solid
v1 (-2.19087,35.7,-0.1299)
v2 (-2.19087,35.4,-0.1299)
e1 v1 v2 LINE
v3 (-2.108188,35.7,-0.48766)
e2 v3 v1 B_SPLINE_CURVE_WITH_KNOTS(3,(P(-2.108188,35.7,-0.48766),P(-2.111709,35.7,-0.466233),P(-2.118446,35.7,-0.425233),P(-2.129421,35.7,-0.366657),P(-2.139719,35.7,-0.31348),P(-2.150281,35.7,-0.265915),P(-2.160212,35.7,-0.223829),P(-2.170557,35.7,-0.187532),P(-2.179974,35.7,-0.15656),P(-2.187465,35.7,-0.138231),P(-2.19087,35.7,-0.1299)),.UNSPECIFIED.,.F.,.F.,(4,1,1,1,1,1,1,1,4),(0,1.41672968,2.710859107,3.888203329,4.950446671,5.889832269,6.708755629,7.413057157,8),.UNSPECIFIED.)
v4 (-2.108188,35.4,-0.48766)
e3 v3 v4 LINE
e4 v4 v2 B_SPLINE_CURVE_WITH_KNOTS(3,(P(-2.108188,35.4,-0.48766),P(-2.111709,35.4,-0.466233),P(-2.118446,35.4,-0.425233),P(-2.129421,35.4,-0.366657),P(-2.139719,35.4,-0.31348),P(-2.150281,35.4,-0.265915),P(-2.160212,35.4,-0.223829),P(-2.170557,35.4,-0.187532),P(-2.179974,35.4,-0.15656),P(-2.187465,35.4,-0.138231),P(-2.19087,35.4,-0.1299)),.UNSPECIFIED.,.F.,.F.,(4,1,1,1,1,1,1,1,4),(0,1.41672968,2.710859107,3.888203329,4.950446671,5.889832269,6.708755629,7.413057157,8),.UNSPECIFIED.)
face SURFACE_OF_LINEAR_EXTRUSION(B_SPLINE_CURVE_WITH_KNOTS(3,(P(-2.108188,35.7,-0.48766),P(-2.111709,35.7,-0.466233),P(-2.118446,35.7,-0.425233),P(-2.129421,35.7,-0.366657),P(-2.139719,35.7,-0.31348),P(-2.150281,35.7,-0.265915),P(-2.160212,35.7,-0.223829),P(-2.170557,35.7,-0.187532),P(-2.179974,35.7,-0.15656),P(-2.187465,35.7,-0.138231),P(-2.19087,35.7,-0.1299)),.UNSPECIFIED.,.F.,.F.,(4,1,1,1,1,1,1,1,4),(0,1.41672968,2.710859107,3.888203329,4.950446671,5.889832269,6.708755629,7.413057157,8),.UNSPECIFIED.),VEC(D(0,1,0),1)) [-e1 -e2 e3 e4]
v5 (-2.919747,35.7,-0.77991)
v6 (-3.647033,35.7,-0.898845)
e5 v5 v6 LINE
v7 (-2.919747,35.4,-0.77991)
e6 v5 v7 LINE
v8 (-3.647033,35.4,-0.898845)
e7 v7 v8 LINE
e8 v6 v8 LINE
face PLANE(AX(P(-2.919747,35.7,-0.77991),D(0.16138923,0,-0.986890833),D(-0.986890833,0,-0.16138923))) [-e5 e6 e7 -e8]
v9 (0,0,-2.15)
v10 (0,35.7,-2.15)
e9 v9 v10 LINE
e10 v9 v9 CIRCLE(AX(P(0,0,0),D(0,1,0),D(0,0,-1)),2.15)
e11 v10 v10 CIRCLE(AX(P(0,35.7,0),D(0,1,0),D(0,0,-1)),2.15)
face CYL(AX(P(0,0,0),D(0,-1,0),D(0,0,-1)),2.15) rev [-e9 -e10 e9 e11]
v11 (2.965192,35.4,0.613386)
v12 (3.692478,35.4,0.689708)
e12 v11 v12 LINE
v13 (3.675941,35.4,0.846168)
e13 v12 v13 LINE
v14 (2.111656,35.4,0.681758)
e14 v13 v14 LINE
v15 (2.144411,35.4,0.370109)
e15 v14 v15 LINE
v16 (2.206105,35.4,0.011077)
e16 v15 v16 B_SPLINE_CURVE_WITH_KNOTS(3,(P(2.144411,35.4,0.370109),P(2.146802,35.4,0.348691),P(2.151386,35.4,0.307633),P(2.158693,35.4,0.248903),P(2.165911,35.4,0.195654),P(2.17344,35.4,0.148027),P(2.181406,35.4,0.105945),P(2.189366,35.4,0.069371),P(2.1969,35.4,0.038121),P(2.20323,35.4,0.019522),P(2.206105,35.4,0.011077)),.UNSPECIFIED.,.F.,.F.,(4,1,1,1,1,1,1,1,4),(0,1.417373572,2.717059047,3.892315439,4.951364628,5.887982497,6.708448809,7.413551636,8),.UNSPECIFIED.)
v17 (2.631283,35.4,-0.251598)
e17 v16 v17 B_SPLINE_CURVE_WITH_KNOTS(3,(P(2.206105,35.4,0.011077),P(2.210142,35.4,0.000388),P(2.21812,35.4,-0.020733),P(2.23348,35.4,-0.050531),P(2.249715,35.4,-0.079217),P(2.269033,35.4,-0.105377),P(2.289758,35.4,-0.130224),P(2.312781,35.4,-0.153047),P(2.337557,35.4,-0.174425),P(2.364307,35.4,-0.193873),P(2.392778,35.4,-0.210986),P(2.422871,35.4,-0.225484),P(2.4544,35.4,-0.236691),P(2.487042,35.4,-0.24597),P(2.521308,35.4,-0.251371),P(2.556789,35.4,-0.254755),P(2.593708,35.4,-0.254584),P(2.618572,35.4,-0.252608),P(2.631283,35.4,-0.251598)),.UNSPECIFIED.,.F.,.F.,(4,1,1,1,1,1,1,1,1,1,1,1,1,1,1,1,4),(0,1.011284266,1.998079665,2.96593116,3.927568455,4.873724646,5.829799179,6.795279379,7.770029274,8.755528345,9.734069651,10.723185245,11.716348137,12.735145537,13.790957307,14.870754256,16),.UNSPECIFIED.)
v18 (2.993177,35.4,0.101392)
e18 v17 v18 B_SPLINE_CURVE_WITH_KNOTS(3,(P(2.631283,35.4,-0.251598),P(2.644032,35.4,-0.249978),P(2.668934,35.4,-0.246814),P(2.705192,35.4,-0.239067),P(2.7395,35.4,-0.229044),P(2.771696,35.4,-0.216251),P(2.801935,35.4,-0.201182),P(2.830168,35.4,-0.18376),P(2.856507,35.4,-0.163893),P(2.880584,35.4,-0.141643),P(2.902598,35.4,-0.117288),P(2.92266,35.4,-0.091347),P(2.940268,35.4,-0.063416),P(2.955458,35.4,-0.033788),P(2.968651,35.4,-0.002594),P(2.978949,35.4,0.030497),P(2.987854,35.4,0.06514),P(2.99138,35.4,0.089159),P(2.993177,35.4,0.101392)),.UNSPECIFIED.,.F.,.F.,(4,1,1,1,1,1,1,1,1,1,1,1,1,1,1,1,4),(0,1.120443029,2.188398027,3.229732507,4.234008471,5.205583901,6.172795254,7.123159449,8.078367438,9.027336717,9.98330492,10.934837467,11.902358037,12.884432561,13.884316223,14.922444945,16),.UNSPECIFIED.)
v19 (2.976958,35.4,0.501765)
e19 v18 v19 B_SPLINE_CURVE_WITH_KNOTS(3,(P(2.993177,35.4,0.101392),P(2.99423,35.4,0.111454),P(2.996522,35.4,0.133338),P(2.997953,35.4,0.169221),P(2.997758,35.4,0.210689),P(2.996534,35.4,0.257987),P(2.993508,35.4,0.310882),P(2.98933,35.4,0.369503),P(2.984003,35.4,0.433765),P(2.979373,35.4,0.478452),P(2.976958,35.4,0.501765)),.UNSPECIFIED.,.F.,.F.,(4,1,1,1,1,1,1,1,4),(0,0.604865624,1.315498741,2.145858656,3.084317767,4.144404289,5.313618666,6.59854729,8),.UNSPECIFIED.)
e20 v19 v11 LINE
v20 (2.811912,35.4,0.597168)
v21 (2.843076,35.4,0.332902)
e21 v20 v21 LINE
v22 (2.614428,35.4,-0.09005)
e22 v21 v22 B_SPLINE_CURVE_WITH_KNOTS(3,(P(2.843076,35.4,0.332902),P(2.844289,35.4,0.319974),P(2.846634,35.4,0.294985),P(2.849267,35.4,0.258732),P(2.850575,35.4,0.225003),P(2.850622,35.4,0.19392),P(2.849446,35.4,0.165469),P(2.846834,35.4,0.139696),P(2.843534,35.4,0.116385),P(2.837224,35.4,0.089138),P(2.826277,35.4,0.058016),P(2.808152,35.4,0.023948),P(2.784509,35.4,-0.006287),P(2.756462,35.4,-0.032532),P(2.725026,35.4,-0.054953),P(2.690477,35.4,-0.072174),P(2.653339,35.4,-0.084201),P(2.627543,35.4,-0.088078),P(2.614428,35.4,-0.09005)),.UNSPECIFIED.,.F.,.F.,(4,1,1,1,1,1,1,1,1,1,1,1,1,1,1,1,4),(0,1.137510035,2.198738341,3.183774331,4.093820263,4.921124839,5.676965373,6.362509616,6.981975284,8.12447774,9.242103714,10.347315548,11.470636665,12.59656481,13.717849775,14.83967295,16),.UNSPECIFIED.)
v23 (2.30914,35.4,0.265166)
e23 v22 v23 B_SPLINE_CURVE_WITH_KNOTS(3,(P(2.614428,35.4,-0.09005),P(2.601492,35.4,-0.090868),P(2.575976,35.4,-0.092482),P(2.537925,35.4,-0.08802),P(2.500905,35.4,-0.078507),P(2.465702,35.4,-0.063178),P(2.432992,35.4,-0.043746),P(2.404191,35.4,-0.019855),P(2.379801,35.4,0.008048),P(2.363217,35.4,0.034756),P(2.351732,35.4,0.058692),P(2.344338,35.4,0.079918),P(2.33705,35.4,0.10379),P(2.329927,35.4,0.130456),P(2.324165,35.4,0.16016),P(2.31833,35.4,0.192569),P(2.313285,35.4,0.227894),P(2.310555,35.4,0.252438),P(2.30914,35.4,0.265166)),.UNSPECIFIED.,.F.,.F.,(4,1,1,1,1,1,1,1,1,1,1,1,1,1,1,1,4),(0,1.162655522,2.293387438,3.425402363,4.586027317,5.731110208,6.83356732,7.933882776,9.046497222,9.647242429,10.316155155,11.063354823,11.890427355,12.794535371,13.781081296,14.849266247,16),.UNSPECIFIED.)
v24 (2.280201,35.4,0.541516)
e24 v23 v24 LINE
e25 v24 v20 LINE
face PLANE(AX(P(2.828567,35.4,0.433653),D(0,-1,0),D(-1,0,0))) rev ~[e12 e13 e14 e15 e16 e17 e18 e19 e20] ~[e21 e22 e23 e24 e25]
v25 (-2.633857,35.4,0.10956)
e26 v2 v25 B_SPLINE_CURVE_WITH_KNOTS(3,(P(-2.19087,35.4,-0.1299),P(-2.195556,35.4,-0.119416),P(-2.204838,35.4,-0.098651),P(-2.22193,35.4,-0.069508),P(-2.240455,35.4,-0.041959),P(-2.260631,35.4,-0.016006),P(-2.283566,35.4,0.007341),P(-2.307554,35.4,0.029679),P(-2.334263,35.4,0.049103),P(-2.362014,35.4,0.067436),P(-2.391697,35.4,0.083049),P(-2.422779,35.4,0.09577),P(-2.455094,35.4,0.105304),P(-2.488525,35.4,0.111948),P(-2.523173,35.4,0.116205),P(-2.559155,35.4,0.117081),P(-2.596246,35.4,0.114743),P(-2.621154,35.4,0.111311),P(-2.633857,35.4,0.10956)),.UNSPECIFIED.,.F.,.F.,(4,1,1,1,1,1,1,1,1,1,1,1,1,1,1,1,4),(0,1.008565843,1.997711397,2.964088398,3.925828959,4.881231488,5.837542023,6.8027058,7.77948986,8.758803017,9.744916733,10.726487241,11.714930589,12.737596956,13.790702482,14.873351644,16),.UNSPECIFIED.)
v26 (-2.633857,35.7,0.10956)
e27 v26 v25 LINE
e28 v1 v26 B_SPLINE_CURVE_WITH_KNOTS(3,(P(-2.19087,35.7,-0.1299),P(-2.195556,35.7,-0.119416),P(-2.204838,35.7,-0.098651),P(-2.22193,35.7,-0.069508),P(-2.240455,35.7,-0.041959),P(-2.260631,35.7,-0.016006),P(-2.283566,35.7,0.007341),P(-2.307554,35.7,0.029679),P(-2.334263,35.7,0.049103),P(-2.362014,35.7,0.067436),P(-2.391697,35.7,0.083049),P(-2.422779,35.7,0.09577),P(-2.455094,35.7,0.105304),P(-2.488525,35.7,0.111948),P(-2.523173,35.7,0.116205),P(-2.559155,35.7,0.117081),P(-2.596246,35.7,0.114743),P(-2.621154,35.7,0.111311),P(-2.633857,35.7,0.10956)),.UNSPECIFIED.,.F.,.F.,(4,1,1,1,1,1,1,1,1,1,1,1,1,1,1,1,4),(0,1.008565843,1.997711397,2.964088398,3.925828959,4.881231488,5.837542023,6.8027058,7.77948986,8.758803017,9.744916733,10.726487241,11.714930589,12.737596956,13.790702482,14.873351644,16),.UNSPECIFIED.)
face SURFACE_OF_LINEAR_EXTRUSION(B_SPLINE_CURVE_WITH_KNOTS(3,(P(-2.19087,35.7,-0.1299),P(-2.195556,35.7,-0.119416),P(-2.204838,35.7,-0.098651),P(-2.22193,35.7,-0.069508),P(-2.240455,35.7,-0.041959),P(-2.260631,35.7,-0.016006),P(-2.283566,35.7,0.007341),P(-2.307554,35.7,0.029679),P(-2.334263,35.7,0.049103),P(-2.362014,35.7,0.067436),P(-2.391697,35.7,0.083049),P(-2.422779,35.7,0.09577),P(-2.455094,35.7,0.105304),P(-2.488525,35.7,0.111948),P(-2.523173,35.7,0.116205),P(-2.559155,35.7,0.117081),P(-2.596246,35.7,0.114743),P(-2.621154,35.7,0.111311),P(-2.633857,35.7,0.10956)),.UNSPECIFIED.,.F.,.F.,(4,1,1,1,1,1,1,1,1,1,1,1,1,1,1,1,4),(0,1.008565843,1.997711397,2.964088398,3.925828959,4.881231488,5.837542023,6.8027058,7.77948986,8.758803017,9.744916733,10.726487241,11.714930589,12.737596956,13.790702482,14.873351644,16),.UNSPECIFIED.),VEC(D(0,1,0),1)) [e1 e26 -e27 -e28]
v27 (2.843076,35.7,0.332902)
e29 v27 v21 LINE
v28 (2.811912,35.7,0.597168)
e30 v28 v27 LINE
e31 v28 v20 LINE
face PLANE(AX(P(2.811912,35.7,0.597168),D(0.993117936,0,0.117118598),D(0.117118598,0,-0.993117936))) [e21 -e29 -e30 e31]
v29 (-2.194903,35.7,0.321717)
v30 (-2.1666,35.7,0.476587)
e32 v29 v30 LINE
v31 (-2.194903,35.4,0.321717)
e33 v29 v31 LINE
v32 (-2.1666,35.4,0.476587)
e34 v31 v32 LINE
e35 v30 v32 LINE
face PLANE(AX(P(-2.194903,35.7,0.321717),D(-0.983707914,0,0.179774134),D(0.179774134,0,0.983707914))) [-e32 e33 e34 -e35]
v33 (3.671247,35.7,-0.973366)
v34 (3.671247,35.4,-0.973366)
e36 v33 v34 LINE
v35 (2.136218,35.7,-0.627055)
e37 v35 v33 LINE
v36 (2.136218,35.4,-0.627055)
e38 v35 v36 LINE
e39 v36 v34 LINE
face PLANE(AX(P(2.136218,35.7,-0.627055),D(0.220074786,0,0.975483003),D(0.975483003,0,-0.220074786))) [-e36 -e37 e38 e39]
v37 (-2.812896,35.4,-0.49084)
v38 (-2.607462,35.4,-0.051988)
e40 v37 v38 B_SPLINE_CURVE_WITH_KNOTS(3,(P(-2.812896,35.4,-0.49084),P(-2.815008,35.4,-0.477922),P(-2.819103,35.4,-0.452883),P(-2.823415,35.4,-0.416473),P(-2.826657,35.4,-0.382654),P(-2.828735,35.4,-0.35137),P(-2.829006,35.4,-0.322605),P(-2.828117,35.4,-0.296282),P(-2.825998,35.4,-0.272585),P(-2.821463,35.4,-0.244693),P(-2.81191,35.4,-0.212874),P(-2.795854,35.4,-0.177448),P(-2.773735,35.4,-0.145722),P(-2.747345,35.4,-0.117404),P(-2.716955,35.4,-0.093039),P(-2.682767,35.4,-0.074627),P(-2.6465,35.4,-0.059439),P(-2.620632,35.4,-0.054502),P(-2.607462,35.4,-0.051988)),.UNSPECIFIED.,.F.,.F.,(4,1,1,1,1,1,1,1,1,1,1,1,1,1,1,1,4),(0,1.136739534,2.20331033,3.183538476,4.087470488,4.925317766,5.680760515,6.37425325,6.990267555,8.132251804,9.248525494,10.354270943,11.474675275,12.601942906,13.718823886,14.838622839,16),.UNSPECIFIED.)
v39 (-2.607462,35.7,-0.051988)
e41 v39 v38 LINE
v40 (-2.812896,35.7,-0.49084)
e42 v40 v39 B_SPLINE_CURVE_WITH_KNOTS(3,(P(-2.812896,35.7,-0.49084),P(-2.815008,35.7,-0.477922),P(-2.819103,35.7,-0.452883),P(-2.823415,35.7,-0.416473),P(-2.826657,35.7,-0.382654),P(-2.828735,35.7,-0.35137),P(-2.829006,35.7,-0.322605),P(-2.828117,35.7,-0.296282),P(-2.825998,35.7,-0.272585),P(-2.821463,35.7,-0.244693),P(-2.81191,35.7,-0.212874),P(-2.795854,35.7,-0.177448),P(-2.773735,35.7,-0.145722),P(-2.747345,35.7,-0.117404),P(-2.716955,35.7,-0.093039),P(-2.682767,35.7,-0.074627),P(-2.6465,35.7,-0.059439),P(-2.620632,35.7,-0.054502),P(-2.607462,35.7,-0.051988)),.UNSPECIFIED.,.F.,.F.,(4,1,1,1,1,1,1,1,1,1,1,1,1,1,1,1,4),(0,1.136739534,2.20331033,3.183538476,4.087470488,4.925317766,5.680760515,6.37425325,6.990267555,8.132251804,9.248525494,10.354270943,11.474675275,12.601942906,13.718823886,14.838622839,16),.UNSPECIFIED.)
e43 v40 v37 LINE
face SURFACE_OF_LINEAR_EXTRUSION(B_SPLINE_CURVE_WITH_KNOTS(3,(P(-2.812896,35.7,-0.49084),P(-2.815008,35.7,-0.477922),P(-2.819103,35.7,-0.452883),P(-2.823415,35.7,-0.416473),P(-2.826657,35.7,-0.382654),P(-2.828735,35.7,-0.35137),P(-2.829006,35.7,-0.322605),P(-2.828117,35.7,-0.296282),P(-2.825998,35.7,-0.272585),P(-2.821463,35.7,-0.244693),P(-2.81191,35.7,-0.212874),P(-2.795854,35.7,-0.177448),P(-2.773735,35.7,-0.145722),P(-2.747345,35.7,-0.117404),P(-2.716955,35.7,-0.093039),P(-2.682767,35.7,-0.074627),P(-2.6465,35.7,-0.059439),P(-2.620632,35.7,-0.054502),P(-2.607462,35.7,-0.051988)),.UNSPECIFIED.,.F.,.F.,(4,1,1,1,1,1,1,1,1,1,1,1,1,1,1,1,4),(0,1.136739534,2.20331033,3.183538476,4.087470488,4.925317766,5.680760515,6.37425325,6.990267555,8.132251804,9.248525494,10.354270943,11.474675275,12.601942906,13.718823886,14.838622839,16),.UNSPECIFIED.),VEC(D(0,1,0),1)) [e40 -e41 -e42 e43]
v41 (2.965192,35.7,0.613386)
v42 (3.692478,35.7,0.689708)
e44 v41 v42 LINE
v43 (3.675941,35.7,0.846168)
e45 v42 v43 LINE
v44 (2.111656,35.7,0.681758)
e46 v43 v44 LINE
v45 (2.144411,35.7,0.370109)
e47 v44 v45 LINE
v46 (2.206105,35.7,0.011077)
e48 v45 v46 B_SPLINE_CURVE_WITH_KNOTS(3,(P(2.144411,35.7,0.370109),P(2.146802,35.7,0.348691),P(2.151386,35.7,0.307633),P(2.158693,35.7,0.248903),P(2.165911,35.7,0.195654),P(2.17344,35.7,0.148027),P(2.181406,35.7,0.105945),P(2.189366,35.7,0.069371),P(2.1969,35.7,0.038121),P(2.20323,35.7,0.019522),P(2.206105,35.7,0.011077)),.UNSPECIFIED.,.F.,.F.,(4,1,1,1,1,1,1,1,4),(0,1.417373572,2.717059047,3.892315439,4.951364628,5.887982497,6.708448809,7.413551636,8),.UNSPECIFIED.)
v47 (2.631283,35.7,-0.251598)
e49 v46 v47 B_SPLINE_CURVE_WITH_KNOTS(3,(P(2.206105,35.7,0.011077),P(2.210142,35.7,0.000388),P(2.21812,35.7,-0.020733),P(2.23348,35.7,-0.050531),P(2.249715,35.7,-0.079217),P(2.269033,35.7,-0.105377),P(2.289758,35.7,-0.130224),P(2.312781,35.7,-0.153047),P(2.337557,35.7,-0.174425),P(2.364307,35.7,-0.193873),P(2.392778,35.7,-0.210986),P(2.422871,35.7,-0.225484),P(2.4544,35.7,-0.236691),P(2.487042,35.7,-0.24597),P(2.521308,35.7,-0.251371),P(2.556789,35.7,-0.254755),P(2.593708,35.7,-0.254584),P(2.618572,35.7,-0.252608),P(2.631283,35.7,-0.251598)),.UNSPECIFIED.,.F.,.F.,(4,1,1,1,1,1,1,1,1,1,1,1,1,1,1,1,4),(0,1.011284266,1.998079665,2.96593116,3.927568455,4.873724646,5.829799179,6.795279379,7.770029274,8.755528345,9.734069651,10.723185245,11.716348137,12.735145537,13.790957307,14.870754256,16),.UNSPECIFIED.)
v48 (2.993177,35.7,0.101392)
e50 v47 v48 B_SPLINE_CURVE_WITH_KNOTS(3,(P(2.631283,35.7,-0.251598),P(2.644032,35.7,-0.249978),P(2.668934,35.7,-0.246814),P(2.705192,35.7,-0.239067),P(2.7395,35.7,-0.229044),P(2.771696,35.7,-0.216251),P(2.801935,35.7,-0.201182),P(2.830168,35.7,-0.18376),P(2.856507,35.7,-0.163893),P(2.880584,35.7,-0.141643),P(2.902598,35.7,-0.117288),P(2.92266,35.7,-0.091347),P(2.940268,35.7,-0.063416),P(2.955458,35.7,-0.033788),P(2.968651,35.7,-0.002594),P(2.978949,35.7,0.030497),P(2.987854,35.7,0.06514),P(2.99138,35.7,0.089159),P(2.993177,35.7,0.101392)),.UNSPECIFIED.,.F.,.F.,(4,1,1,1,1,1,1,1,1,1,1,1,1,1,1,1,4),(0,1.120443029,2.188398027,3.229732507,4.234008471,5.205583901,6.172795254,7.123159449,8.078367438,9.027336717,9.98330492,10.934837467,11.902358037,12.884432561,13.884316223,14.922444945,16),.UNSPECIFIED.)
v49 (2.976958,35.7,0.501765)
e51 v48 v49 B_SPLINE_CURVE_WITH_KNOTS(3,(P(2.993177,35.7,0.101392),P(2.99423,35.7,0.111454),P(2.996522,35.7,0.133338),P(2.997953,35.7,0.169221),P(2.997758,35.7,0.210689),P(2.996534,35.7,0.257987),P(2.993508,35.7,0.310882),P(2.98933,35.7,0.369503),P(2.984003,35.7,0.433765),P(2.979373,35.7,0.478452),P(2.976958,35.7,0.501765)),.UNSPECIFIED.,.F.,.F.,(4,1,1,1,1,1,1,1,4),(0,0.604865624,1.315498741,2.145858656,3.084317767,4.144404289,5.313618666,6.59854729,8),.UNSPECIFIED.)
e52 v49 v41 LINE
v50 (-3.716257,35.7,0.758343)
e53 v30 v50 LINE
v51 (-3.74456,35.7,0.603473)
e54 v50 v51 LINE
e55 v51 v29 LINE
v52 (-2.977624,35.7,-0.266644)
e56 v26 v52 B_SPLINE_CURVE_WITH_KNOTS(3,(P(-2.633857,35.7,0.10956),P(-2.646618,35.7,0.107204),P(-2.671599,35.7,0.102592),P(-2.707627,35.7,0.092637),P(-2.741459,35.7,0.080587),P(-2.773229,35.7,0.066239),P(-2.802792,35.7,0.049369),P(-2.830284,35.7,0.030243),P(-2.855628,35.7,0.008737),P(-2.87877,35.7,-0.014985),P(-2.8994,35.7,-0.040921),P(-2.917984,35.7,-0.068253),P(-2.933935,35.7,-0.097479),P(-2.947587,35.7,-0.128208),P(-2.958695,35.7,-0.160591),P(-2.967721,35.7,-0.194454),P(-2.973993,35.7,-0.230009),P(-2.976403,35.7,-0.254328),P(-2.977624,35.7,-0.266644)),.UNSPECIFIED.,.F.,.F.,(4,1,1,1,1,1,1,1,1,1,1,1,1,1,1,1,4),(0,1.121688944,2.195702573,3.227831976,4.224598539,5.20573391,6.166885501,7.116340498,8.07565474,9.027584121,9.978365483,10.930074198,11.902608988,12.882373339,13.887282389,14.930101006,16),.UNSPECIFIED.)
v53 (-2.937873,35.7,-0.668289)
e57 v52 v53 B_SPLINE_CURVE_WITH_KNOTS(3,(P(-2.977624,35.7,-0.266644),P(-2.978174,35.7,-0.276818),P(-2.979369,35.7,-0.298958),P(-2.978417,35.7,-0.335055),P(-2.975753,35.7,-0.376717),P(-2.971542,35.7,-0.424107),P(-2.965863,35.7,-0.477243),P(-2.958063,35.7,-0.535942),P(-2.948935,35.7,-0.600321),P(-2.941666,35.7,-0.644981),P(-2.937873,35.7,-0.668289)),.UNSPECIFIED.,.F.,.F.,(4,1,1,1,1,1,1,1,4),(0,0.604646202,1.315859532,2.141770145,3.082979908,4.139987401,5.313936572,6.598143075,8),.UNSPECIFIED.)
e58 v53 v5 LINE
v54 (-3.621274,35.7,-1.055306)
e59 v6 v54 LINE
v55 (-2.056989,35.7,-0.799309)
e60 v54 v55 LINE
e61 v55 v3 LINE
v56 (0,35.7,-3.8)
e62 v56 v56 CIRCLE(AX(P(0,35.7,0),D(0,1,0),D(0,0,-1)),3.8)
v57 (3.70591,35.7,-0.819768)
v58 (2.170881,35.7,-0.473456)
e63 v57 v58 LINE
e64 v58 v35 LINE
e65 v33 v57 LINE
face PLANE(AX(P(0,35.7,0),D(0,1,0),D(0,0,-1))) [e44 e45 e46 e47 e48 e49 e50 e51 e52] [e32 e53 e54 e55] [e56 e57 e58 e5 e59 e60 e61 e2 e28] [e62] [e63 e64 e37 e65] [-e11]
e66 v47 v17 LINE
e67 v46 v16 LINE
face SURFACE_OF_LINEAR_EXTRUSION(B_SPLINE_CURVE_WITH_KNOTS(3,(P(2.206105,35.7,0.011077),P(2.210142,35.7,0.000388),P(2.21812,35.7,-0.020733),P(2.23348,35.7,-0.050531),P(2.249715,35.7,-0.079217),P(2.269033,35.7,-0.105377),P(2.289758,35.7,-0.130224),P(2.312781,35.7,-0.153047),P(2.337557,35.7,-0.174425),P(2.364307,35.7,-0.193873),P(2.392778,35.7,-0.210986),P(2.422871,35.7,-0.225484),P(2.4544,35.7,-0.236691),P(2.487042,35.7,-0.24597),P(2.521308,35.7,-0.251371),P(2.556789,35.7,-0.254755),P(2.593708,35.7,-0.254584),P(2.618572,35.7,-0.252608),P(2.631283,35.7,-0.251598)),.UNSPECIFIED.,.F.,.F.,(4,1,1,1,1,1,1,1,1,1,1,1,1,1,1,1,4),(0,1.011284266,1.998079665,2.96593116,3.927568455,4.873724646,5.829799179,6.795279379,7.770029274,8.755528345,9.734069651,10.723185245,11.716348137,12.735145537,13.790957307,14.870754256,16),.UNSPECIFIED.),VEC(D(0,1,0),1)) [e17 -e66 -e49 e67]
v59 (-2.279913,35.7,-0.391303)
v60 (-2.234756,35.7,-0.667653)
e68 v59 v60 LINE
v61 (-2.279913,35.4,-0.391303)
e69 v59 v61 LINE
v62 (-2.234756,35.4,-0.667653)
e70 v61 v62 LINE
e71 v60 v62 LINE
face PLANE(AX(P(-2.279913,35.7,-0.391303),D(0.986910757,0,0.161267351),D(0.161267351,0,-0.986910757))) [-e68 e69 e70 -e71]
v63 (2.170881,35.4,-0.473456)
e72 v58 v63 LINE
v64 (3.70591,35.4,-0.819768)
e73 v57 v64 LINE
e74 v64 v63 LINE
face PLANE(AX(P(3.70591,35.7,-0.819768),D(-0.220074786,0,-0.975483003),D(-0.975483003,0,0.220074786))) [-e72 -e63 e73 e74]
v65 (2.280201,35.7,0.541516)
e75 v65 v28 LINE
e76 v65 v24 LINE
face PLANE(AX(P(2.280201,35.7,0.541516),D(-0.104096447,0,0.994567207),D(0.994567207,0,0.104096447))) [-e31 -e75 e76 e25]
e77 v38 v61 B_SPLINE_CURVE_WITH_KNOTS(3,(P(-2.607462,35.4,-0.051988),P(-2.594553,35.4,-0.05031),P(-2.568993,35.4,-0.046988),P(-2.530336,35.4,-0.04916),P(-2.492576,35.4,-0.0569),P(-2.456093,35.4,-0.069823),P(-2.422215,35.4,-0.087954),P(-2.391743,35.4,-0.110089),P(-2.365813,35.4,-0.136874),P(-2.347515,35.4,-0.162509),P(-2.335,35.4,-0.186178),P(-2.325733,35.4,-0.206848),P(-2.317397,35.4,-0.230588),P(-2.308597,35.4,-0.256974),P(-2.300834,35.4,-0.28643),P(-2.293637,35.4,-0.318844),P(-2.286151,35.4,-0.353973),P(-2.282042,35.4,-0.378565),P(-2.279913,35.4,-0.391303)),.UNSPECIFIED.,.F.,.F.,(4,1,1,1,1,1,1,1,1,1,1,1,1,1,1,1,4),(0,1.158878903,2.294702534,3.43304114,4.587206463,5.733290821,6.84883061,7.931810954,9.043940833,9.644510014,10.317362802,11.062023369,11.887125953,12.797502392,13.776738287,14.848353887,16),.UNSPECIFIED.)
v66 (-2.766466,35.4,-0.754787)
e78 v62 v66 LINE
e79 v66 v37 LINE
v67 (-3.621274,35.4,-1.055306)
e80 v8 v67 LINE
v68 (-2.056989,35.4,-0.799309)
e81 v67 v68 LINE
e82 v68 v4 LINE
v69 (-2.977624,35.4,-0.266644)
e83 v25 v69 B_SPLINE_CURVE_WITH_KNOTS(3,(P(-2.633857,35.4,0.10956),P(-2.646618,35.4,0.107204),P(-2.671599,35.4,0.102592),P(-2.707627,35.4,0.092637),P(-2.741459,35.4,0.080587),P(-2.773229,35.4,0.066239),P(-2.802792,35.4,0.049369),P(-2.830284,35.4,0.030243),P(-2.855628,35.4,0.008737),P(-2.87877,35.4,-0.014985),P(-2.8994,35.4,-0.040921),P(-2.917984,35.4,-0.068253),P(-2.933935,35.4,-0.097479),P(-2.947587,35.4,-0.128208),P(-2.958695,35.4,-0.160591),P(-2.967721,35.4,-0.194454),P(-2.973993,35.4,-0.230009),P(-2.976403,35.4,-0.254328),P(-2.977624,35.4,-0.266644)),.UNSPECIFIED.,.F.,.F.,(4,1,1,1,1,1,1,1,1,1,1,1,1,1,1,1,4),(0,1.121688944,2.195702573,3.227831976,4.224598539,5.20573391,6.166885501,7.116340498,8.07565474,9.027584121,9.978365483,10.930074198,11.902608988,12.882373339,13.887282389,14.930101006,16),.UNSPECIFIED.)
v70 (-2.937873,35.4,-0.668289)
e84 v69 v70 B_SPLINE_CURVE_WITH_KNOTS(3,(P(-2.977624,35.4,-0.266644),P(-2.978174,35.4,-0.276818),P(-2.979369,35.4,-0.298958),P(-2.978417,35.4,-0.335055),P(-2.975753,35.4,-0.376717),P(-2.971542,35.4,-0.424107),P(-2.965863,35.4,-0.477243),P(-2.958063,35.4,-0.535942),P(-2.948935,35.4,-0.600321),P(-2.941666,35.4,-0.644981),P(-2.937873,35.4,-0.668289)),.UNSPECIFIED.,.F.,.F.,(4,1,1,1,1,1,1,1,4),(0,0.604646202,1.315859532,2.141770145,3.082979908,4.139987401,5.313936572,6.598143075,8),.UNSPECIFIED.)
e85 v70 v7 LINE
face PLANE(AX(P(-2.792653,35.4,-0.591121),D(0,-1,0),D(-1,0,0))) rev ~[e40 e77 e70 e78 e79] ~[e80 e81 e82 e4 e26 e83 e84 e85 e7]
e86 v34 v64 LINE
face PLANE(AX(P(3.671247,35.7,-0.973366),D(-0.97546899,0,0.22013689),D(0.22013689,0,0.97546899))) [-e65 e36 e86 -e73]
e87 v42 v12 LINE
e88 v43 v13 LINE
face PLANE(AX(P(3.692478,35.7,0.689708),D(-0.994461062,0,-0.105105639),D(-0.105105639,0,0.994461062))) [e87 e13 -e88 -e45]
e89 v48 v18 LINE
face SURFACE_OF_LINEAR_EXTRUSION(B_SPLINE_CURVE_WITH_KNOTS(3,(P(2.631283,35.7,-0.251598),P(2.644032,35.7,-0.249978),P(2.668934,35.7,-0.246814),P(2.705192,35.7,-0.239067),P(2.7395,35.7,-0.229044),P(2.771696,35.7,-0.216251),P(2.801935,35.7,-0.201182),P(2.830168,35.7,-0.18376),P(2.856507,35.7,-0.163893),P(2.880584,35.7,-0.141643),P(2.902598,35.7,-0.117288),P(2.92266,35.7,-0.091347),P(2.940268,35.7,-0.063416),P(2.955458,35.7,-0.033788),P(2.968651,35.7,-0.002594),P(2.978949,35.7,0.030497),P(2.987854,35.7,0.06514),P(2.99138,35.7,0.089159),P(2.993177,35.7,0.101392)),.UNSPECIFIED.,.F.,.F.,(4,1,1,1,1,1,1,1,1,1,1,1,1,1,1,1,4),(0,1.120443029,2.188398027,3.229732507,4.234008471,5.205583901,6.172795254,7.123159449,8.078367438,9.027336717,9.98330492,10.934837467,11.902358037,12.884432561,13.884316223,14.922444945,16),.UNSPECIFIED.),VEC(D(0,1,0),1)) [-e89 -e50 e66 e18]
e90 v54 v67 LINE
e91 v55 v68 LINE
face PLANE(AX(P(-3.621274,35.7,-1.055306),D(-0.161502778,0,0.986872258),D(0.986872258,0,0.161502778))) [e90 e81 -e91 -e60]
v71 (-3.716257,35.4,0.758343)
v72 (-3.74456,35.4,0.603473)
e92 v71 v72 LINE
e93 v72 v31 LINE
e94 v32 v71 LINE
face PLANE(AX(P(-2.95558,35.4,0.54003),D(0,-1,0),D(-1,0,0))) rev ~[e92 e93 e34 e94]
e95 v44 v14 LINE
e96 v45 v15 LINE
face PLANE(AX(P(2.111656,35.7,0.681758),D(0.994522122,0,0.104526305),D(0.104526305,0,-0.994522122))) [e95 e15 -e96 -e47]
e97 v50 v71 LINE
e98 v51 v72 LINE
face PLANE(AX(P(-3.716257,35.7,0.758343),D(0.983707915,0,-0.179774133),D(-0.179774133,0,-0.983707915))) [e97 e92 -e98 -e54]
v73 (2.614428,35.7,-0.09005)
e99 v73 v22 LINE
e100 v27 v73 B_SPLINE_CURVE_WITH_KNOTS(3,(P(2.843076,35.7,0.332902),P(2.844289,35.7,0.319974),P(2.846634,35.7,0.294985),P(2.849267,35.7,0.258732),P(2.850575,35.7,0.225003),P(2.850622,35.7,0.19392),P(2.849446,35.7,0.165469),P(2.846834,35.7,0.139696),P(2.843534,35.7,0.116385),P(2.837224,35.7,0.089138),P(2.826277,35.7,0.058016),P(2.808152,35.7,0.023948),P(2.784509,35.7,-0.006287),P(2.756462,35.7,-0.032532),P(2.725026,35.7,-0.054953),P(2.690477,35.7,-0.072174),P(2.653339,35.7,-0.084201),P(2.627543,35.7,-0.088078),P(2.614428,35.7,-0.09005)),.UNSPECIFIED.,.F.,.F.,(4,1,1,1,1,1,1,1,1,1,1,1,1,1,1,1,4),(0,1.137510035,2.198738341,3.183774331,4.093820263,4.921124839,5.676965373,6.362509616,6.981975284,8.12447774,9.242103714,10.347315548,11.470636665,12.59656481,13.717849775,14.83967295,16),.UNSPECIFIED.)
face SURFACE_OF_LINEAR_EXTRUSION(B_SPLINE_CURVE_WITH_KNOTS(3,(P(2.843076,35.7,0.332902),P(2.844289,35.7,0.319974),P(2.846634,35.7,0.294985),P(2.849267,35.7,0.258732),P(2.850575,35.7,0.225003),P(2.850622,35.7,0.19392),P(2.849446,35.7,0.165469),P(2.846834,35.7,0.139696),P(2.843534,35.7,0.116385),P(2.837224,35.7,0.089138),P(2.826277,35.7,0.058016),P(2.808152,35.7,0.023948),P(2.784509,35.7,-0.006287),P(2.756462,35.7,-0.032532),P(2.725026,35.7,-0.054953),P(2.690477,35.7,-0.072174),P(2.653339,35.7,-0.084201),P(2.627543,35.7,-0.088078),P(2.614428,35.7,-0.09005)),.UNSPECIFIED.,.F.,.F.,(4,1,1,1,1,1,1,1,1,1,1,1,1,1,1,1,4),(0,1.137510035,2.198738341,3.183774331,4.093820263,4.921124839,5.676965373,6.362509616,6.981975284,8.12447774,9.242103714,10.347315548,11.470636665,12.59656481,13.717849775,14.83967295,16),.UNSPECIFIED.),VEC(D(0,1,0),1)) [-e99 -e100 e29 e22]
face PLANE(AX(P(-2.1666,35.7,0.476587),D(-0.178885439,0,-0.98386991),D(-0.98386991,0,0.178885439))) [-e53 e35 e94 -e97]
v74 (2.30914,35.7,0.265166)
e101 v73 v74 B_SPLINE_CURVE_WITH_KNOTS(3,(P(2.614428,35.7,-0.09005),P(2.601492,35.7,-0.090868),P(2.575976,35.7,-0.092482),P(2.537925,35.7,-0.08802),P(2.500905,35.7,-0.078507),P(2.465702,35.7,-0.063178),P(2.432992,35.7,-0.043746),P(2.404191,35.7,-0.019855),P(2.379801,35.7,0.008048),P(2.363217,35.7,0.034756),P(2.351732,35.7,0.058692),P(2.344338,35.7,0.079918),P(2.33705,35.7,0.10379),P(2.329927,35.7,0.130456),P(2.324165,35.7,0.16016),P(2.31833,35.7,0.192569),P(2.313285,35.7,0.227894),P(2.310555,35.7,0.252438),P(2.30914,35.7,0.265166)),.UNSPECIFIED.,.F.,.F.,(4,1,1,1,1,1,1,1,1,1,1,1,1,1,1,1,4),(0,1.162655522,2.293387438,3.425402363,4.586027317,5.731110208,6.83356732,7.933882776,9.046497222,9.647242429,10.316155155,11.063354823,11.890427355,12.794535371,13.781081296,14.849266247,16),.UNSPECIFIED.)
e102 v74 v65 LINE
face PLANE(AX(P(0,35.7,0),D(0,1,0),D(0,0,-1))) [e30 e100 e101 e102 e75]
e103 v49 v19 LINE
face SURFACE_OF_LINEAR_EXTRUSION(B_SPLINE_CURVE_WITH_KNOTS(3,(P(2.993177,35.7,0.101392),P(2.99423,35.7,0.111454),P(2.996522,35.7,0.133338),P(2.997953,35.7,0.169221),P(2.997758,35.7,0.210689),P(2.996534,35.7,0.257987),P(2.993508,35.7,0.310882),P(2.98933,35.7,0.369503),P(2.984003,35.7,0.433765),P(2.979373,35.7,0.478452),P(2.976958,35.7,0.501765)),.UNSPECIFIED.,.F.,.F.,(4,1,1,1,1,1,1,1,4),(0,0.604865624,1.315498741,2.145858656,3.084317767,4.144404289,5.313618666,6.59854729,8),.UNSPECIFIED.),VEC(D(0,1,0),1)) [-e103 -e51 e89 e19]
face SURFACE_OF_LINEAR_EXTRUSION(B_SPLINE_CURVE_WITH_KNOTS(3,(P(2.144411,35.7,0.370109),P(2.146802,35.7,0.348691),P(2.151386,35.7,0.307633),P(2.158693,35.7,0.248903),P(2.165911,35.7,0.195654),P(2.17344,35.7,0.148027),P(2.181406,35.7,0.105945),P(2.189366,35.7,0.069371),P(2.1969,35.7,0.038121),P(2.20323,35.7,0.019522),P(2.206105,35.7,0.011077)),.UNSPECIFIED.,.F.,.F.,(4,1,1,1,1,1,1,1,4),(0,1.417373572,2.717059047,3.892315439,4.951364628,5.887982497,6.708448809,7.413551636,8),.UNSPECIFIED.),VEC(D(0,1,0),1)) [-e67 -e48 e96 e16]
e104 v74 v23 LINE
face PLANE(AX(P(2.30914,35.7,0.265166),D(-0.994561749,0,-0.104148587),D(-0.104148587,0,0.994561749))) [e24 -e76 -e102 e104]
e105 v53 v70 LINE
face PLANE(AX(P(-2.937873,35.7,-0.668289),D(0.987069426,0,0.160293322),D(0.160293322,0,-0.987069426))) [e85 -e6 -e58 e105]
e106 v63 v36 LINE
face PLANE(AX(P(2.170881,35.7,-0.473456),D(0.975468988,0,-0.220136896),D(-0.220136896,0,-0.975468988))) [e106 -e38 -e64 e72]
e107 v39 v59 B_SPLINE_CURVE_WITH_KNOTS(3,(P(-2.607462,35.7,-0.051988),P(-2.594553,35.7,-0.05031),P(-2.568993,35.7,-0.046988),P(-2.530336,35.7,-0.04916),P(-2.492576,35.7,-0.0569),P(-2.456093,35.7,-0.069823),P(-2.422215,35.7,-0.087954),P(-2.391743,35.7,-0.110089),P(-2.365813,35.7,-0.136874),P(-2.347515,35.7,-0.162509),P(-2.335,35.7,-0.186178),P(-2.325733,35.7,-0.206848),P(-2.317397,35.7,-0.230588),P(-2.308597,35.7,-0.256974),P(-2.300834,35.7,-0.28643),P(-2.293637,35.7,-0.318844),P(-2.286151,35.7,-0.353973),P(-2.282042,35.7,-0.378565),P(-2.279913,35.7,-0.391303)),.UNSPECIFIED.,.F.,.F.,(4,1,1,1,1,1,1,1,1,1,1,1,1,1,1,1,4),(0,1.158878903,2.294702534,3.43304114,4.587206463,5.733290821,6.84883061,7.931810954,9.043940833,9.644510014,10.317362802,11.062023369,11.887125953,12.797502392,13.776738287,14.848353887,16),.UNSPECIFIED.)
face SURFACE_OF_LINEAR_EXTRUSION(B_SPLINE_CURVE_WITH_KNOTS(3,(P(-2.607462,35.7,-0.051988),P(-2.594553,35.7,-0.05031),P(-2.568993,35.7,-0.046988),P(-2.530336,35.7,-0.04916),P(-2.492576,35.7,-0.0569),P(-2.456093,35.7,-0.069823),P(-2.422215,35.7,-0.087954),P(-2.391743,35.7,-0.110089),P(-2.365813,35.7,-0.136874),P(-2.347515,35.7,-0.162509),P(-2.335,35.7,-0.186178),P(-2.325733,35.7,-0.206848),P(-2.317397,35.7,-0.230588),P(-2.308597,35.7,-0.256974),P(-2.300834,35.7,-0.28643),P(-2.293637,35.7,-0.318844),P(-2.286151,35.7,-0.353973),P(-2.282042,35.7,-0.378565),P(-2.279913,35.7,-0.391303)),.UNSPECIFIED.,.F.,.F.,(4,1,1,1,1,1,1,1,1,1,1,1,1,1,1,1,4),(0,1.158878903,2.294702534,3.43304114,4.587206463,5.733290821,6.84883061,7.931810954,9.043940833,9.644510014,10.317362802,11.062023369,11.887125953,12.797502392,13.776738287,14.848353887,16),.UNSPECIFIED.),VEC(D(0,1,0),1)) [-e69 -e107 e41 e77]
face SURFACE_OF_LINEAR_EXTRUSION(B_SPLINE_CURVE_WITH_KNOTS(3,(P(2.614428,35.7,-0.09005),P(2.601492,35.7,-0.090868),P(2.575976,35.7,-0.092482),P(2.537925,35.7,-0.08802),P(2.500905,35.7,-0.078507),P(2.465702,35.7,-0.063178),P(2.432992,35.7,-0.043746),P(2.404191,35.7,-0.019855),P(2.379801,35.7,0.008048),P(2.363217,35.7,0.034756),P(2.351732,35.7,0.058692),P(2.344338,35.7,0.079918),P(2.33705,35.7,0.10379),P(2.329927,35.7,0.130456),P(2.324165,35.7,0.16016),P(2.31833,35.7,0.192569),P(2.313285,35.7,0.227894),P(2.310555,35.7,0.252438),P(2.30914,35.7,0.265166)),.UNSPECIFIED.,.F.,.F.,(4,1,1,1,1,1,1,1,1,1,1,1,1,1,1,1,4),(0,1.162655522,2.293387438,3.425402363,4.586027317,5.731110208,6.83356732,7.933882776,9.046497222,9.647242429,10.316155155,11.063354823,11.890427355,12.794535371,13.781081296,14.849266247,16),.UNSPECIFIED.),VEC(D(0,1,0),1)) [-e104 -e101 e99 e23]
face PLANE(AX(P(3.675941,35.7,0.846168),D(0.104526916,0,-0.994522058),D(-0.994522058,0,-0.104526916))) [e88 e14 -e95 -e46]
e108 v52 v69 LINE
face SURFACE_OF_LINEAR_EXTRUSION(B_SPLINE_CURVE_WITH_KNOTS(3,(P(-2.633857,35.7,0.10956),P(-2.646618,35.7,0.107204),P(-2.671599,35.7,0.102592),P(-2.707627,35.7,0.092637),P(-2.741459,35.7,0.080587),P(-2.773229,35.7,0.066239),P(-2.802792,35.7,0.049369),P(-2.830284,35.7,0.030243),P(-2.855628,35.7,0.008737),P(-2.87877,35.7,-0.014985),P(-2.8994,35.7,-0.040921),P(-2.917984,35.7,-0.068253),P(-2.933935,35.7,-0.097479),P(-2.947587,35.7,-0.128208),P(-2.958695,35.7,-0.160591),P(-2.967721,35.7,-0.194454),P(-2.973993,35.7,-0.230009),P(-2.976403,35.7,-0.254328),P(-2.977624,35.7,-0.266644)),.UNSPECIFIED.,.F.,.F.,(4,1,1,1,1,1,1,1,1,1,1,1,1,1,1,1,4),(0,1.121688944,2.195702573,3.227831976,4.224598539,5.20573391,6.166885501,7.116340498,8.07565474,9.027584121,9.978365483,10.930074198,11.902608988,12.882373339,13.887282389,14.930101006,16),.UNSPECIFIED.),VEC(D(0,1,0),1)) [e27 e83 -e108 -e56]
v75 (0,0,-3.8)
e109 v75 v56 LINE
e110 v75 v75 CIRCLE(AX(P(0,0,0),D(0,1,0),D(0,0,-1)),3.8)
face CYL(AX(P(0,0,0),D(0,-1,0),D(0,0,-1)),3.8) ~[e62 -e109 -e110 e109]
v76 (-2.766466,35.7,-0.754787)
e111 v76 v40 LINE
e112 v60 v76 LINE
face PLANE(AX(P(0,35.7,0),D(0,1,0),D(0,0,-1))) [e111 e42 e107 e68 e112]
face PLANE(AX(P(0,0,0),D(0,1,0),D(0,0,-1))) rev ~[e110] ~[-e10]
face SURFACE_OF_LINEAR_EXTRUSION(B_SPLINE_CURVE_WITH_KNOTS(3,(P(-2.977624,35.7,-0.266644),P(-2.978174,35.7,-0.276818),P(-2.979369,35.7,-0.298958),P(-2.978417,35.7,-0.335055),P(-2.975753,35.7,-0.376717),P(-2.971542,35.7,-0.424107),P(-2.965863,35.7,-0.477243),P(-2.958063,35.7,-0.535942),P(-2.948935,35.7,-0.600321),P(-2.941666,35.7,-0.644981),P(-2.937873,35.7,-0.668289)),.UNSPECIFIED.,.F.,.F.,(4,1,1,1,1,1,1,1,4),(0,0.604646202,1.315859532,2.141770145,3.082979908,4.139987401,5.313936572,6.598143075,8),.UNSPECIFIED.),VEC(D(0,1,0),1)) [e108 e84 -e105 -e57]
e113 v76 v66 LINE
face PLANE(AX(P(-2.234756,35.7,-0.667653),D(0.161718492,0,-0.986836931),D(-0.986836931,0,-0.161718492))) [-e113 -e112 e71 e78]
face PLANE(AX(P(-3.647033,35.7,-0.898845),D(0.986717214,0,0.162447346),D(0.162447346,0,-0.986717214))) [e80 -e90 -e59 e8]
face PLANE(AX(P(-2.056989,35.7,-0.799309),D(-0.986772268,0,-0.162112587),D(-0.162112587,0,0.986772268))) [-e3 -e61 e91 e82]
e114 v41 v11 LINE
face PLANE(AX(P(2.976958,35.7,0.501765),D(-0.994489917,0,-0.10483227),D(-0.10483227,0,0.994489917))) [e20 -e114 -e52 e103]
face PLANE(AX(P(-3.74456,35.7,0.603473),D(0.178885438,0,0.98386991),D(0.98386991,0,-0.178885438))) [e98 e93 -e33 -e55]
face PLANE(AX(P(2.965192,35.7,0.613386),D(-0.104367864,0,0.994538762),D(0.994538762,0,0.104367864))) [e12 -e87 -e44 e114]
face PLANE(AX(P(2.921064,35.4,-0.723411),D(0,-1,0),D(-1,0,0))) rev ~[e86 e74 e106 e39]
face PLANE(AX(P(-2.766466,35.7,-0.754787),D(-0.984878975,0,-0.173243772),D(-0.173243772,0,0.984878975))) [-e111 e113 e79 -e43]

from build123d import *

# Parameters (mm, degrees)
SKETCH1_R           = 3.8
SKETCH1_R_2         = 2.15
BOSS_EXTRUDE1_DEPTH = 35.7
CUT_EXTRUDE1_DEPTH  = 0.3


with BuildPart() as part:
    # Sketch1 → Boss-Extrude1 (new body)
    with BuildSketch(Plane(origin=(0, 0, 0), x_dir=(1, 0, 0), z_dir=(0, 1, 0))):
        with Locations(Location((0, 0, 0), (0, 0, 90))):
            Circle(SKETCH1_R)
        with Locations(Location((0, 0, 0), (0, 0, 90))):
            Circle(SKETCH1_R_2, mode=Mode.SUBTRACT)
    extrude(amount=BOSS_EXTRUDE1_DEPTH)

    # Sketch2 → Cut-Extrude1 (cut)
    # profile 1 of 4: a face of its own
    with BuildSketch(Plane(origin=(0, 35.7, 0), x_dir=(1, 0, 0), z_dir=(0, 1, 0))):
        with BuildLine():
            Line((2.111656105, -0.681757882), (2.144411013, -0.370109244))
            add(Edge.make_bspline(
                [(2.144411013, -0.370109244), (2.146802183, -0.348691162), (2.15138598, -0.307633396), (2.158693119, -0.248902879), (2.165911145, -0.195653849), (2.173439795, -0.148026639), (2.181405599, -0.105945418), (2.189365932, -0.069370665), (2.196899512, -0.038121368), (2.203230185, -0.019522424), (2.206104723, -0.011077293)],
                knots=[0, 0, 0, 0, 1.417373572, 2.717059047, 3.892315439, 4.951364628, 5.887982497, 6.708448809, 7.413551636, 8, 8, 8, 8], degree=3))
            add(Edge.make_bspline(
                [(2.206104723, -0.011077293), (2.210142486, -0.000387677), (2.218120236, 0.020732699), (2.233480051, 0.050530823), (2.249714506, 0.079217068), (2.26903293, 0.105377158), (2.28975844, 0.130224476), (2.312780938, 0.153046655), (2.337556691, 0.174424753), (2.364307409, 0.193873427), (2.392778115, 0.210986132), (2.422871362, 0.225484332), (2.454400246, 0.23669106), (2.487041624, 0.245969514), (2.521307609, 0.251371473), (2.556788909, 0.254755049), (2.593708427, 0.254583895), (2.61857229, 0.252608033), (2.631282507, 0.251597988)],
                knots=[0, 0, 0, 0, 1.011284266, 1.998079665, 2.96593116, 3.927568455, 4.873724646, 5.829799179, 6.795279379, 7.770029274, 8.755528345, 9.734069651, 10.723185245, 11.716348137, 12.735145537, 13.790957307, 14.870754256, 16, 16, 16, 16], degree=3))
            add(Edge.make_bspline(
                [(2.631282507, 0.251597988), (2.644032058, 0.24997818), (2.668933898, 0.246814446), (2.705191942, 0.239067164), (2.739499602, 0.22904372), (2.771695562, 0.216250901), (2.801935318, 0.201182094), (2.830167738, 0.18375954), (2.856506904, 0.163892672), (2.880584442, 0.141642816), (2.902598289, 0.117288438), (2.922659945, 0.091347366), (2.940268337, 0.063416255), (2.955457965, 0.033787663), (2.968650724, 0.002594273), (2.978949316, -0.030497322), (2.987853849, -0.065140381), (2.991380402, -0.089158794), (2.993176538, -0.101391796)],
                knots=[0, 0, 0, 0, 1.120443029, 2.188398027, 3.229732507, 4.234008471, 5.205583901, 6.172795254, 7.123159449, 8.078367438, 9.027336717, 9.98330492, 10.934837467, 11.902358037, 12.884432561, 13.884316223, 14.922444945, 16, 16, 16, 16], degree=3))
            add(Edge.make_bspline(
                [(2.993176538, -0.101391796), (2.994230251, -0.111454082), (2.996521933, -0.133338158), (2.997952687, -0.169220751), (2.997758266, -0.210688547), (2.99653436, -0.257987318), (2.99350795, -0.310882297), (2.989330268, -0.36950307), (2.984003426, -0.433765073), (2.979373477, -0.478452172), (2.976958088, -0.501764893)],
                knots=[0, 0, 0, 0, 0.604865624, 1.315498741, 2.145858656, 3.084317767, 4.144404289, 5.313618666, 6.59854729, 8, 8, 8, 8], degree=3))
            Line((2.976958088, -0.501764893), (2.965191762, -0.613385986))
            Line((2.965191762, -0.613385986), (3.69247792, -0.689708102))
            Line((3.69247792, -0.689708102), (3.675941462, -0.846168438))
            Line((3.675941462, -0.846168438), (2.111656105, -0.681757882))
        make_face()
        with BuildLine():
            Line((2.280200776, -0.541515995), (2.811911514, -0.597167537))
            Line((2.811911514, -0.597167537), (2.843076377, -0.332902212))
            add(Edge.make_bspline(
                [(2.843076377, -0.332902212), (2.844289329, -0.319974038), (2.846633891, -0.294984657), (2.849267306, -0.258732107), (2.850574992, -0.225003014), (2.8506223, -0.193920252), (2.849446171, -0.165468856), (2.846833591, -0.139695973), (2.843533978, -0.116385305), (2.837224352, -0.089138127), (2.826277417, -0.05801598), (2.808152361, -0.023948438), (2.784508643, 0.006287227), (2.756461903, 0.032531622), (2.725026024, 0.054952555), (2.690476942, 0.072174184), (2.653338622, 0.084201266), (2.627543305, 0.088078292), (2.61442804, 0.09004951)],
                knots=[0, 0, 0, 0, 1.137510035, 2.198738341, 3.183774331, 4.093820263, 4.921124839, 5.676965373, 6.362509616, 6.981975284, 8.12447774, 9.242103714, 10.347315548, 11.470636665, 12.59656481, 13.717849775, 14.83967295, 16, 16, 16, 16], degree=3))
            add(Edge.make_bspline(
                [(2.61442804, 0.09004951), (2.601492156, 0.090867689), (2.575975574, 0.092481581), (2.537925492, 0.088020007), (2.500904783, 0.078506725), (2.46570153, 0.063177958), (2.43299178, 0.043746262), (2.404191117, 0.019855084), (2.379800983, -0.008048068), (2.363216589, -0.034756124), (2.351731956, -0.058692023), (2.344337638, -0.079917763), (2.337050019, -0.103790363), (2.329926737, -0.130456035), (2.324165305, -0.160160444), (2.318330265, -0.192568564), (2.313285026, -0.227894023), (2.310555246, -0.252437869), (2.309139579, -0.265166335)],
                knots=[0, 0, 0, 0, 1.162655522, 2.293387438, 3.425402363, 4.586027317, 5.731110208, 6.83356732, 7.933882776, 9.046497222, 9.647242429, 10.316155155, 11.063354823, 11.890427355, 12.794535371, 13.781081296, 14.849266247, 16, 16, 16, 16], degree=3))
            Line((2.309139579, -0.265166335), (2.280200776, -0.541515995))
        make_face(mode=Mode.SUBTRACT)
    # profile 2 of 4: a face of its own
    with BuildSketch(Plane(origin=(0, 35.7, 0), x_dir=(1, 0, 0), z_dir=(0, 1, 0))):
        Polygon((2.170881214, 0.473456425), (2.136218253, 0.627054682), (3.671246799, 0.973366281), (3.705909759, 0.819768024), align=None)
    # profile 3 of 4: a face of its own
    with BuildSketch(Plane(origin=(0, 35.7, 0), x_dir=(1, 0, 0), z_dir=(0, 1, 0))):
        with BuildLine():
            Line((-2.056988676, 0.799308725), (-2.108188095, 0.487660087))
            add(Edge.make_bspline(
                [(-2.108188095, 0.487660087), (-2.111708879, 0.466232817), (-2.118445766, 0.425232539), (-2.129421133, 0.36665679), (-2.139718713, 0.313480105), (-2.150281282, 0.265914926), (-2.160212249, 0.223828754), (-2.170557002, 0.187532109), (-2.179974067, 0.156559724), (-2.187465233, 0.138231414), (-2.190870387, 0.129900171)],
                knots=[0, 0, 0, 0, 1.41672968, 2.710859107, 3.888203329, 4.950446671, 5.889832269, 6.708755629, 7.413057157, 8, 8, 8, 8], degree=3))
            add(Edge.make_bspline(
                [(-2.190870387, 0.129900171), (-2.195556444, 0.11941634), (-2.204838325, 0.098650549), (-2.221929721, 0.069508001), (-2.240455136, 0.041959041), (-2.260630824, 0.016005619), (-2.28356608, -0.007341147), (-2.307553717, -0.029678541), (-2.334263373, -0.049103372), (-2.362013715, -0.067435737), (-2.391696978, -0.083048929), (-2.422778873, -0.095769744), (-2.455093773, -0.105304128), (-2.488524604, -0.111948097), (-2.523172883, -0.116205202), (-2.559155273, -0.11708093), (-2.596246189, -0.114743131), (-2.621154486, -0.111310806), (-2.633856665, -0.109560466)],
                knots=[0, 0, 0, 0, 1.008565843, 1.997711397, 2.964088398, 3.925828959, 4.881231488, 5.837542023, 6.8027058, 7.77948986, 8.758803017, 9.744916733, 10.726487241, 11.714930589, 12.737596956, 13.790702482, 14.873351644, 16, 16, 16, 16], degree=3))
            add(Edge.make_bspline(
                [(-2.633856665, -0.109560466), (-2.646618171, -0.107204254), (-2.671598778, -0.102591978), (-2.707626521, -0.092636992), (-2.741459416, -0.080586731), (-2.773228531, -0.066238595), (-2.802791732, -0.049368652), (-2.830283852, -0.030242912), (-2.855627907, -0.008737139), (-2.878770231, 0.014985273), (-2.899399946, 0.040920795), (-2.917983767, 0.068252889), (-2.933935366, 0.097479257), (-2.94758708, 0.128207774), (-2.958694781, 0.160590944), (-2.967721239, 0.194453712), (-2.973992641, 0.230009053), (-2.976403376, 0.254328418), (-2.977624193, 0.266643961)],
                knots=[0, 0, 0, 0, 1.121688944, 2.195702573, 3.227831976, 4.224598539, 5.20573391, 6.166885501, 7.116340498, 8.07565474, 9.027584121, 9.978365483, 10.930074198, 11.902608988, 12.882373339, 13.887282389, 14.930101006, 16, 16, 16, 16], degree=3))
            add(Edge.make_bspline(
                [(-2.977624193, 0.266643961), (-2.978173535, 0.276817647), (-2.979369039, 0.2989581), (-2.978416522, 0.335055248), (-2.97575293, 0.376716727), (-2.971541929, 0.424106537), (-2.965863423, 0.477242518), (-2.958062562, 0.535941987), (-2.94893467, 0.60032135), (-2.941666402, 0.644981141), (-2.937873091, 0.668289093)],
                knots=[0, 0, 0, 0, 0.604646202, 1.315859532, 2.141770145, 3.082979908, 4.139987401, 5.313936572, 6.598143075, 8, 8, 8, 8], degree=3))
            Line((-2.937873091, 0.668289093), (-2.919746589, 0.779910187))
            Line((-2.919746589, 0.779910187), (-3.647032747, 0.898845483))
            Line((-3.647032747, 0.898845483), (-3.621274033, 1.05530582))
            Line((-3.621274033, 1.05530582), (-2.056988676, 0.799308725))
        make_face()
        with BuildLine():
            Line((-2.234755603, 0.667653076), (-2.766466341, 0.754787491))
            Line((-2.766466341, 0.754787491), (-2.812895628, 0.490840175))
            add(Edge.make_bspline(
                [(-2.812895628, 0.490840175), (-2.815008197, 0.477922044), (-2.81910293, 0.452883193), (-2.823415086, 0.416473146), (-2.826657363, 0.382653714), (-2.828734553, 0.35136981), (-2.829006368, 0.322605404), (-2.828117211, 0.296281893), (-2.825997962, 0.272585261), (-2.82146303, 0.244692822), (-2.811909992, 0.212873549), (-2.795853791, 0.177447593), (-2.773735167, 0.14572244), (-2.747345259, 0.117404003), (-2.716955042, 0.093039199), (-2.682766519, 0.074626688), (-2.646499979, 0.05943945), (-2.620631779, 0.054501823), (-2.607461934, 0.051988011)],
                knots=[0, 0, 0, 0, 1.136739534, 2.20331033, 3.183538476, 4.087470488, 4.925317766, 5.680760515, 6.37425325, 6.990267555, 8.132251804, 9.248525494, 10.354270943, 11.474675275, 12.601942906, 13.718823886, 14.838622839, 16, 16, 16, 16], degree=3))
            add(Edge.make_bspline(
                [(-2.607461934, 0.051988011), (-2.594553232, 0.050310074), (-2.568992641, 0.046987581), (-2.53033584, 0.049159746), (-2.492576023, 0.056899765), (-2.456092773, 0.069822513), (-2.422214957, 0.08795422), (-2.391742809, 0.110088649), (-2.365813449, 0.136873568), (-2.347514733, 0.162509328), (-2.334999931, 0.186178026), (-2.325732889, 0.206848206), (-2.317397434, 0.230587534), (-2.308596743, 0.25697407), (-2.300834458, 0.286429563), (-2.293637242, 0.318843854), (-2.286151391, 0.353972674), (-2.282041679, 0.378564756), (-2.279912855, 0.391303416)],
                knots=[0, 0, 0, 0, 1.158878903, 2.294702534, 3.43304114, 4.587206463, 5.733290821, 6.84883061, 7.931810954, 9.043940833, 9.644510014, 10.317362802, 11.062023369, 11.887125953, 12.797502392, 13.776738287, 14.848353887, 16, 16, 16, 16], degree=3))
            Line((-2.279912855, 0.391303416), (-2.234755603, 0.667653076))
        make_face(mode=Mode.SUBTRACT)
    # profile 4 of 4: a face of its own
    with BuildSketch(Plane(origin=(0, 35.7, 0), x_dir=(1, 0, 0), z_dir=(0, 1, 0))):
        Polygon((-2.194903236, -0.321716904), (-2.166600452, -0.476587196), (-3.716257403, -0.758343006), (-3.744560187, -0.603472713), align=None)
    extrude(amount=-CUT_EXTRUDE1_DEPTH, mode=Mode.SUBTRACT)


solid = part.part
